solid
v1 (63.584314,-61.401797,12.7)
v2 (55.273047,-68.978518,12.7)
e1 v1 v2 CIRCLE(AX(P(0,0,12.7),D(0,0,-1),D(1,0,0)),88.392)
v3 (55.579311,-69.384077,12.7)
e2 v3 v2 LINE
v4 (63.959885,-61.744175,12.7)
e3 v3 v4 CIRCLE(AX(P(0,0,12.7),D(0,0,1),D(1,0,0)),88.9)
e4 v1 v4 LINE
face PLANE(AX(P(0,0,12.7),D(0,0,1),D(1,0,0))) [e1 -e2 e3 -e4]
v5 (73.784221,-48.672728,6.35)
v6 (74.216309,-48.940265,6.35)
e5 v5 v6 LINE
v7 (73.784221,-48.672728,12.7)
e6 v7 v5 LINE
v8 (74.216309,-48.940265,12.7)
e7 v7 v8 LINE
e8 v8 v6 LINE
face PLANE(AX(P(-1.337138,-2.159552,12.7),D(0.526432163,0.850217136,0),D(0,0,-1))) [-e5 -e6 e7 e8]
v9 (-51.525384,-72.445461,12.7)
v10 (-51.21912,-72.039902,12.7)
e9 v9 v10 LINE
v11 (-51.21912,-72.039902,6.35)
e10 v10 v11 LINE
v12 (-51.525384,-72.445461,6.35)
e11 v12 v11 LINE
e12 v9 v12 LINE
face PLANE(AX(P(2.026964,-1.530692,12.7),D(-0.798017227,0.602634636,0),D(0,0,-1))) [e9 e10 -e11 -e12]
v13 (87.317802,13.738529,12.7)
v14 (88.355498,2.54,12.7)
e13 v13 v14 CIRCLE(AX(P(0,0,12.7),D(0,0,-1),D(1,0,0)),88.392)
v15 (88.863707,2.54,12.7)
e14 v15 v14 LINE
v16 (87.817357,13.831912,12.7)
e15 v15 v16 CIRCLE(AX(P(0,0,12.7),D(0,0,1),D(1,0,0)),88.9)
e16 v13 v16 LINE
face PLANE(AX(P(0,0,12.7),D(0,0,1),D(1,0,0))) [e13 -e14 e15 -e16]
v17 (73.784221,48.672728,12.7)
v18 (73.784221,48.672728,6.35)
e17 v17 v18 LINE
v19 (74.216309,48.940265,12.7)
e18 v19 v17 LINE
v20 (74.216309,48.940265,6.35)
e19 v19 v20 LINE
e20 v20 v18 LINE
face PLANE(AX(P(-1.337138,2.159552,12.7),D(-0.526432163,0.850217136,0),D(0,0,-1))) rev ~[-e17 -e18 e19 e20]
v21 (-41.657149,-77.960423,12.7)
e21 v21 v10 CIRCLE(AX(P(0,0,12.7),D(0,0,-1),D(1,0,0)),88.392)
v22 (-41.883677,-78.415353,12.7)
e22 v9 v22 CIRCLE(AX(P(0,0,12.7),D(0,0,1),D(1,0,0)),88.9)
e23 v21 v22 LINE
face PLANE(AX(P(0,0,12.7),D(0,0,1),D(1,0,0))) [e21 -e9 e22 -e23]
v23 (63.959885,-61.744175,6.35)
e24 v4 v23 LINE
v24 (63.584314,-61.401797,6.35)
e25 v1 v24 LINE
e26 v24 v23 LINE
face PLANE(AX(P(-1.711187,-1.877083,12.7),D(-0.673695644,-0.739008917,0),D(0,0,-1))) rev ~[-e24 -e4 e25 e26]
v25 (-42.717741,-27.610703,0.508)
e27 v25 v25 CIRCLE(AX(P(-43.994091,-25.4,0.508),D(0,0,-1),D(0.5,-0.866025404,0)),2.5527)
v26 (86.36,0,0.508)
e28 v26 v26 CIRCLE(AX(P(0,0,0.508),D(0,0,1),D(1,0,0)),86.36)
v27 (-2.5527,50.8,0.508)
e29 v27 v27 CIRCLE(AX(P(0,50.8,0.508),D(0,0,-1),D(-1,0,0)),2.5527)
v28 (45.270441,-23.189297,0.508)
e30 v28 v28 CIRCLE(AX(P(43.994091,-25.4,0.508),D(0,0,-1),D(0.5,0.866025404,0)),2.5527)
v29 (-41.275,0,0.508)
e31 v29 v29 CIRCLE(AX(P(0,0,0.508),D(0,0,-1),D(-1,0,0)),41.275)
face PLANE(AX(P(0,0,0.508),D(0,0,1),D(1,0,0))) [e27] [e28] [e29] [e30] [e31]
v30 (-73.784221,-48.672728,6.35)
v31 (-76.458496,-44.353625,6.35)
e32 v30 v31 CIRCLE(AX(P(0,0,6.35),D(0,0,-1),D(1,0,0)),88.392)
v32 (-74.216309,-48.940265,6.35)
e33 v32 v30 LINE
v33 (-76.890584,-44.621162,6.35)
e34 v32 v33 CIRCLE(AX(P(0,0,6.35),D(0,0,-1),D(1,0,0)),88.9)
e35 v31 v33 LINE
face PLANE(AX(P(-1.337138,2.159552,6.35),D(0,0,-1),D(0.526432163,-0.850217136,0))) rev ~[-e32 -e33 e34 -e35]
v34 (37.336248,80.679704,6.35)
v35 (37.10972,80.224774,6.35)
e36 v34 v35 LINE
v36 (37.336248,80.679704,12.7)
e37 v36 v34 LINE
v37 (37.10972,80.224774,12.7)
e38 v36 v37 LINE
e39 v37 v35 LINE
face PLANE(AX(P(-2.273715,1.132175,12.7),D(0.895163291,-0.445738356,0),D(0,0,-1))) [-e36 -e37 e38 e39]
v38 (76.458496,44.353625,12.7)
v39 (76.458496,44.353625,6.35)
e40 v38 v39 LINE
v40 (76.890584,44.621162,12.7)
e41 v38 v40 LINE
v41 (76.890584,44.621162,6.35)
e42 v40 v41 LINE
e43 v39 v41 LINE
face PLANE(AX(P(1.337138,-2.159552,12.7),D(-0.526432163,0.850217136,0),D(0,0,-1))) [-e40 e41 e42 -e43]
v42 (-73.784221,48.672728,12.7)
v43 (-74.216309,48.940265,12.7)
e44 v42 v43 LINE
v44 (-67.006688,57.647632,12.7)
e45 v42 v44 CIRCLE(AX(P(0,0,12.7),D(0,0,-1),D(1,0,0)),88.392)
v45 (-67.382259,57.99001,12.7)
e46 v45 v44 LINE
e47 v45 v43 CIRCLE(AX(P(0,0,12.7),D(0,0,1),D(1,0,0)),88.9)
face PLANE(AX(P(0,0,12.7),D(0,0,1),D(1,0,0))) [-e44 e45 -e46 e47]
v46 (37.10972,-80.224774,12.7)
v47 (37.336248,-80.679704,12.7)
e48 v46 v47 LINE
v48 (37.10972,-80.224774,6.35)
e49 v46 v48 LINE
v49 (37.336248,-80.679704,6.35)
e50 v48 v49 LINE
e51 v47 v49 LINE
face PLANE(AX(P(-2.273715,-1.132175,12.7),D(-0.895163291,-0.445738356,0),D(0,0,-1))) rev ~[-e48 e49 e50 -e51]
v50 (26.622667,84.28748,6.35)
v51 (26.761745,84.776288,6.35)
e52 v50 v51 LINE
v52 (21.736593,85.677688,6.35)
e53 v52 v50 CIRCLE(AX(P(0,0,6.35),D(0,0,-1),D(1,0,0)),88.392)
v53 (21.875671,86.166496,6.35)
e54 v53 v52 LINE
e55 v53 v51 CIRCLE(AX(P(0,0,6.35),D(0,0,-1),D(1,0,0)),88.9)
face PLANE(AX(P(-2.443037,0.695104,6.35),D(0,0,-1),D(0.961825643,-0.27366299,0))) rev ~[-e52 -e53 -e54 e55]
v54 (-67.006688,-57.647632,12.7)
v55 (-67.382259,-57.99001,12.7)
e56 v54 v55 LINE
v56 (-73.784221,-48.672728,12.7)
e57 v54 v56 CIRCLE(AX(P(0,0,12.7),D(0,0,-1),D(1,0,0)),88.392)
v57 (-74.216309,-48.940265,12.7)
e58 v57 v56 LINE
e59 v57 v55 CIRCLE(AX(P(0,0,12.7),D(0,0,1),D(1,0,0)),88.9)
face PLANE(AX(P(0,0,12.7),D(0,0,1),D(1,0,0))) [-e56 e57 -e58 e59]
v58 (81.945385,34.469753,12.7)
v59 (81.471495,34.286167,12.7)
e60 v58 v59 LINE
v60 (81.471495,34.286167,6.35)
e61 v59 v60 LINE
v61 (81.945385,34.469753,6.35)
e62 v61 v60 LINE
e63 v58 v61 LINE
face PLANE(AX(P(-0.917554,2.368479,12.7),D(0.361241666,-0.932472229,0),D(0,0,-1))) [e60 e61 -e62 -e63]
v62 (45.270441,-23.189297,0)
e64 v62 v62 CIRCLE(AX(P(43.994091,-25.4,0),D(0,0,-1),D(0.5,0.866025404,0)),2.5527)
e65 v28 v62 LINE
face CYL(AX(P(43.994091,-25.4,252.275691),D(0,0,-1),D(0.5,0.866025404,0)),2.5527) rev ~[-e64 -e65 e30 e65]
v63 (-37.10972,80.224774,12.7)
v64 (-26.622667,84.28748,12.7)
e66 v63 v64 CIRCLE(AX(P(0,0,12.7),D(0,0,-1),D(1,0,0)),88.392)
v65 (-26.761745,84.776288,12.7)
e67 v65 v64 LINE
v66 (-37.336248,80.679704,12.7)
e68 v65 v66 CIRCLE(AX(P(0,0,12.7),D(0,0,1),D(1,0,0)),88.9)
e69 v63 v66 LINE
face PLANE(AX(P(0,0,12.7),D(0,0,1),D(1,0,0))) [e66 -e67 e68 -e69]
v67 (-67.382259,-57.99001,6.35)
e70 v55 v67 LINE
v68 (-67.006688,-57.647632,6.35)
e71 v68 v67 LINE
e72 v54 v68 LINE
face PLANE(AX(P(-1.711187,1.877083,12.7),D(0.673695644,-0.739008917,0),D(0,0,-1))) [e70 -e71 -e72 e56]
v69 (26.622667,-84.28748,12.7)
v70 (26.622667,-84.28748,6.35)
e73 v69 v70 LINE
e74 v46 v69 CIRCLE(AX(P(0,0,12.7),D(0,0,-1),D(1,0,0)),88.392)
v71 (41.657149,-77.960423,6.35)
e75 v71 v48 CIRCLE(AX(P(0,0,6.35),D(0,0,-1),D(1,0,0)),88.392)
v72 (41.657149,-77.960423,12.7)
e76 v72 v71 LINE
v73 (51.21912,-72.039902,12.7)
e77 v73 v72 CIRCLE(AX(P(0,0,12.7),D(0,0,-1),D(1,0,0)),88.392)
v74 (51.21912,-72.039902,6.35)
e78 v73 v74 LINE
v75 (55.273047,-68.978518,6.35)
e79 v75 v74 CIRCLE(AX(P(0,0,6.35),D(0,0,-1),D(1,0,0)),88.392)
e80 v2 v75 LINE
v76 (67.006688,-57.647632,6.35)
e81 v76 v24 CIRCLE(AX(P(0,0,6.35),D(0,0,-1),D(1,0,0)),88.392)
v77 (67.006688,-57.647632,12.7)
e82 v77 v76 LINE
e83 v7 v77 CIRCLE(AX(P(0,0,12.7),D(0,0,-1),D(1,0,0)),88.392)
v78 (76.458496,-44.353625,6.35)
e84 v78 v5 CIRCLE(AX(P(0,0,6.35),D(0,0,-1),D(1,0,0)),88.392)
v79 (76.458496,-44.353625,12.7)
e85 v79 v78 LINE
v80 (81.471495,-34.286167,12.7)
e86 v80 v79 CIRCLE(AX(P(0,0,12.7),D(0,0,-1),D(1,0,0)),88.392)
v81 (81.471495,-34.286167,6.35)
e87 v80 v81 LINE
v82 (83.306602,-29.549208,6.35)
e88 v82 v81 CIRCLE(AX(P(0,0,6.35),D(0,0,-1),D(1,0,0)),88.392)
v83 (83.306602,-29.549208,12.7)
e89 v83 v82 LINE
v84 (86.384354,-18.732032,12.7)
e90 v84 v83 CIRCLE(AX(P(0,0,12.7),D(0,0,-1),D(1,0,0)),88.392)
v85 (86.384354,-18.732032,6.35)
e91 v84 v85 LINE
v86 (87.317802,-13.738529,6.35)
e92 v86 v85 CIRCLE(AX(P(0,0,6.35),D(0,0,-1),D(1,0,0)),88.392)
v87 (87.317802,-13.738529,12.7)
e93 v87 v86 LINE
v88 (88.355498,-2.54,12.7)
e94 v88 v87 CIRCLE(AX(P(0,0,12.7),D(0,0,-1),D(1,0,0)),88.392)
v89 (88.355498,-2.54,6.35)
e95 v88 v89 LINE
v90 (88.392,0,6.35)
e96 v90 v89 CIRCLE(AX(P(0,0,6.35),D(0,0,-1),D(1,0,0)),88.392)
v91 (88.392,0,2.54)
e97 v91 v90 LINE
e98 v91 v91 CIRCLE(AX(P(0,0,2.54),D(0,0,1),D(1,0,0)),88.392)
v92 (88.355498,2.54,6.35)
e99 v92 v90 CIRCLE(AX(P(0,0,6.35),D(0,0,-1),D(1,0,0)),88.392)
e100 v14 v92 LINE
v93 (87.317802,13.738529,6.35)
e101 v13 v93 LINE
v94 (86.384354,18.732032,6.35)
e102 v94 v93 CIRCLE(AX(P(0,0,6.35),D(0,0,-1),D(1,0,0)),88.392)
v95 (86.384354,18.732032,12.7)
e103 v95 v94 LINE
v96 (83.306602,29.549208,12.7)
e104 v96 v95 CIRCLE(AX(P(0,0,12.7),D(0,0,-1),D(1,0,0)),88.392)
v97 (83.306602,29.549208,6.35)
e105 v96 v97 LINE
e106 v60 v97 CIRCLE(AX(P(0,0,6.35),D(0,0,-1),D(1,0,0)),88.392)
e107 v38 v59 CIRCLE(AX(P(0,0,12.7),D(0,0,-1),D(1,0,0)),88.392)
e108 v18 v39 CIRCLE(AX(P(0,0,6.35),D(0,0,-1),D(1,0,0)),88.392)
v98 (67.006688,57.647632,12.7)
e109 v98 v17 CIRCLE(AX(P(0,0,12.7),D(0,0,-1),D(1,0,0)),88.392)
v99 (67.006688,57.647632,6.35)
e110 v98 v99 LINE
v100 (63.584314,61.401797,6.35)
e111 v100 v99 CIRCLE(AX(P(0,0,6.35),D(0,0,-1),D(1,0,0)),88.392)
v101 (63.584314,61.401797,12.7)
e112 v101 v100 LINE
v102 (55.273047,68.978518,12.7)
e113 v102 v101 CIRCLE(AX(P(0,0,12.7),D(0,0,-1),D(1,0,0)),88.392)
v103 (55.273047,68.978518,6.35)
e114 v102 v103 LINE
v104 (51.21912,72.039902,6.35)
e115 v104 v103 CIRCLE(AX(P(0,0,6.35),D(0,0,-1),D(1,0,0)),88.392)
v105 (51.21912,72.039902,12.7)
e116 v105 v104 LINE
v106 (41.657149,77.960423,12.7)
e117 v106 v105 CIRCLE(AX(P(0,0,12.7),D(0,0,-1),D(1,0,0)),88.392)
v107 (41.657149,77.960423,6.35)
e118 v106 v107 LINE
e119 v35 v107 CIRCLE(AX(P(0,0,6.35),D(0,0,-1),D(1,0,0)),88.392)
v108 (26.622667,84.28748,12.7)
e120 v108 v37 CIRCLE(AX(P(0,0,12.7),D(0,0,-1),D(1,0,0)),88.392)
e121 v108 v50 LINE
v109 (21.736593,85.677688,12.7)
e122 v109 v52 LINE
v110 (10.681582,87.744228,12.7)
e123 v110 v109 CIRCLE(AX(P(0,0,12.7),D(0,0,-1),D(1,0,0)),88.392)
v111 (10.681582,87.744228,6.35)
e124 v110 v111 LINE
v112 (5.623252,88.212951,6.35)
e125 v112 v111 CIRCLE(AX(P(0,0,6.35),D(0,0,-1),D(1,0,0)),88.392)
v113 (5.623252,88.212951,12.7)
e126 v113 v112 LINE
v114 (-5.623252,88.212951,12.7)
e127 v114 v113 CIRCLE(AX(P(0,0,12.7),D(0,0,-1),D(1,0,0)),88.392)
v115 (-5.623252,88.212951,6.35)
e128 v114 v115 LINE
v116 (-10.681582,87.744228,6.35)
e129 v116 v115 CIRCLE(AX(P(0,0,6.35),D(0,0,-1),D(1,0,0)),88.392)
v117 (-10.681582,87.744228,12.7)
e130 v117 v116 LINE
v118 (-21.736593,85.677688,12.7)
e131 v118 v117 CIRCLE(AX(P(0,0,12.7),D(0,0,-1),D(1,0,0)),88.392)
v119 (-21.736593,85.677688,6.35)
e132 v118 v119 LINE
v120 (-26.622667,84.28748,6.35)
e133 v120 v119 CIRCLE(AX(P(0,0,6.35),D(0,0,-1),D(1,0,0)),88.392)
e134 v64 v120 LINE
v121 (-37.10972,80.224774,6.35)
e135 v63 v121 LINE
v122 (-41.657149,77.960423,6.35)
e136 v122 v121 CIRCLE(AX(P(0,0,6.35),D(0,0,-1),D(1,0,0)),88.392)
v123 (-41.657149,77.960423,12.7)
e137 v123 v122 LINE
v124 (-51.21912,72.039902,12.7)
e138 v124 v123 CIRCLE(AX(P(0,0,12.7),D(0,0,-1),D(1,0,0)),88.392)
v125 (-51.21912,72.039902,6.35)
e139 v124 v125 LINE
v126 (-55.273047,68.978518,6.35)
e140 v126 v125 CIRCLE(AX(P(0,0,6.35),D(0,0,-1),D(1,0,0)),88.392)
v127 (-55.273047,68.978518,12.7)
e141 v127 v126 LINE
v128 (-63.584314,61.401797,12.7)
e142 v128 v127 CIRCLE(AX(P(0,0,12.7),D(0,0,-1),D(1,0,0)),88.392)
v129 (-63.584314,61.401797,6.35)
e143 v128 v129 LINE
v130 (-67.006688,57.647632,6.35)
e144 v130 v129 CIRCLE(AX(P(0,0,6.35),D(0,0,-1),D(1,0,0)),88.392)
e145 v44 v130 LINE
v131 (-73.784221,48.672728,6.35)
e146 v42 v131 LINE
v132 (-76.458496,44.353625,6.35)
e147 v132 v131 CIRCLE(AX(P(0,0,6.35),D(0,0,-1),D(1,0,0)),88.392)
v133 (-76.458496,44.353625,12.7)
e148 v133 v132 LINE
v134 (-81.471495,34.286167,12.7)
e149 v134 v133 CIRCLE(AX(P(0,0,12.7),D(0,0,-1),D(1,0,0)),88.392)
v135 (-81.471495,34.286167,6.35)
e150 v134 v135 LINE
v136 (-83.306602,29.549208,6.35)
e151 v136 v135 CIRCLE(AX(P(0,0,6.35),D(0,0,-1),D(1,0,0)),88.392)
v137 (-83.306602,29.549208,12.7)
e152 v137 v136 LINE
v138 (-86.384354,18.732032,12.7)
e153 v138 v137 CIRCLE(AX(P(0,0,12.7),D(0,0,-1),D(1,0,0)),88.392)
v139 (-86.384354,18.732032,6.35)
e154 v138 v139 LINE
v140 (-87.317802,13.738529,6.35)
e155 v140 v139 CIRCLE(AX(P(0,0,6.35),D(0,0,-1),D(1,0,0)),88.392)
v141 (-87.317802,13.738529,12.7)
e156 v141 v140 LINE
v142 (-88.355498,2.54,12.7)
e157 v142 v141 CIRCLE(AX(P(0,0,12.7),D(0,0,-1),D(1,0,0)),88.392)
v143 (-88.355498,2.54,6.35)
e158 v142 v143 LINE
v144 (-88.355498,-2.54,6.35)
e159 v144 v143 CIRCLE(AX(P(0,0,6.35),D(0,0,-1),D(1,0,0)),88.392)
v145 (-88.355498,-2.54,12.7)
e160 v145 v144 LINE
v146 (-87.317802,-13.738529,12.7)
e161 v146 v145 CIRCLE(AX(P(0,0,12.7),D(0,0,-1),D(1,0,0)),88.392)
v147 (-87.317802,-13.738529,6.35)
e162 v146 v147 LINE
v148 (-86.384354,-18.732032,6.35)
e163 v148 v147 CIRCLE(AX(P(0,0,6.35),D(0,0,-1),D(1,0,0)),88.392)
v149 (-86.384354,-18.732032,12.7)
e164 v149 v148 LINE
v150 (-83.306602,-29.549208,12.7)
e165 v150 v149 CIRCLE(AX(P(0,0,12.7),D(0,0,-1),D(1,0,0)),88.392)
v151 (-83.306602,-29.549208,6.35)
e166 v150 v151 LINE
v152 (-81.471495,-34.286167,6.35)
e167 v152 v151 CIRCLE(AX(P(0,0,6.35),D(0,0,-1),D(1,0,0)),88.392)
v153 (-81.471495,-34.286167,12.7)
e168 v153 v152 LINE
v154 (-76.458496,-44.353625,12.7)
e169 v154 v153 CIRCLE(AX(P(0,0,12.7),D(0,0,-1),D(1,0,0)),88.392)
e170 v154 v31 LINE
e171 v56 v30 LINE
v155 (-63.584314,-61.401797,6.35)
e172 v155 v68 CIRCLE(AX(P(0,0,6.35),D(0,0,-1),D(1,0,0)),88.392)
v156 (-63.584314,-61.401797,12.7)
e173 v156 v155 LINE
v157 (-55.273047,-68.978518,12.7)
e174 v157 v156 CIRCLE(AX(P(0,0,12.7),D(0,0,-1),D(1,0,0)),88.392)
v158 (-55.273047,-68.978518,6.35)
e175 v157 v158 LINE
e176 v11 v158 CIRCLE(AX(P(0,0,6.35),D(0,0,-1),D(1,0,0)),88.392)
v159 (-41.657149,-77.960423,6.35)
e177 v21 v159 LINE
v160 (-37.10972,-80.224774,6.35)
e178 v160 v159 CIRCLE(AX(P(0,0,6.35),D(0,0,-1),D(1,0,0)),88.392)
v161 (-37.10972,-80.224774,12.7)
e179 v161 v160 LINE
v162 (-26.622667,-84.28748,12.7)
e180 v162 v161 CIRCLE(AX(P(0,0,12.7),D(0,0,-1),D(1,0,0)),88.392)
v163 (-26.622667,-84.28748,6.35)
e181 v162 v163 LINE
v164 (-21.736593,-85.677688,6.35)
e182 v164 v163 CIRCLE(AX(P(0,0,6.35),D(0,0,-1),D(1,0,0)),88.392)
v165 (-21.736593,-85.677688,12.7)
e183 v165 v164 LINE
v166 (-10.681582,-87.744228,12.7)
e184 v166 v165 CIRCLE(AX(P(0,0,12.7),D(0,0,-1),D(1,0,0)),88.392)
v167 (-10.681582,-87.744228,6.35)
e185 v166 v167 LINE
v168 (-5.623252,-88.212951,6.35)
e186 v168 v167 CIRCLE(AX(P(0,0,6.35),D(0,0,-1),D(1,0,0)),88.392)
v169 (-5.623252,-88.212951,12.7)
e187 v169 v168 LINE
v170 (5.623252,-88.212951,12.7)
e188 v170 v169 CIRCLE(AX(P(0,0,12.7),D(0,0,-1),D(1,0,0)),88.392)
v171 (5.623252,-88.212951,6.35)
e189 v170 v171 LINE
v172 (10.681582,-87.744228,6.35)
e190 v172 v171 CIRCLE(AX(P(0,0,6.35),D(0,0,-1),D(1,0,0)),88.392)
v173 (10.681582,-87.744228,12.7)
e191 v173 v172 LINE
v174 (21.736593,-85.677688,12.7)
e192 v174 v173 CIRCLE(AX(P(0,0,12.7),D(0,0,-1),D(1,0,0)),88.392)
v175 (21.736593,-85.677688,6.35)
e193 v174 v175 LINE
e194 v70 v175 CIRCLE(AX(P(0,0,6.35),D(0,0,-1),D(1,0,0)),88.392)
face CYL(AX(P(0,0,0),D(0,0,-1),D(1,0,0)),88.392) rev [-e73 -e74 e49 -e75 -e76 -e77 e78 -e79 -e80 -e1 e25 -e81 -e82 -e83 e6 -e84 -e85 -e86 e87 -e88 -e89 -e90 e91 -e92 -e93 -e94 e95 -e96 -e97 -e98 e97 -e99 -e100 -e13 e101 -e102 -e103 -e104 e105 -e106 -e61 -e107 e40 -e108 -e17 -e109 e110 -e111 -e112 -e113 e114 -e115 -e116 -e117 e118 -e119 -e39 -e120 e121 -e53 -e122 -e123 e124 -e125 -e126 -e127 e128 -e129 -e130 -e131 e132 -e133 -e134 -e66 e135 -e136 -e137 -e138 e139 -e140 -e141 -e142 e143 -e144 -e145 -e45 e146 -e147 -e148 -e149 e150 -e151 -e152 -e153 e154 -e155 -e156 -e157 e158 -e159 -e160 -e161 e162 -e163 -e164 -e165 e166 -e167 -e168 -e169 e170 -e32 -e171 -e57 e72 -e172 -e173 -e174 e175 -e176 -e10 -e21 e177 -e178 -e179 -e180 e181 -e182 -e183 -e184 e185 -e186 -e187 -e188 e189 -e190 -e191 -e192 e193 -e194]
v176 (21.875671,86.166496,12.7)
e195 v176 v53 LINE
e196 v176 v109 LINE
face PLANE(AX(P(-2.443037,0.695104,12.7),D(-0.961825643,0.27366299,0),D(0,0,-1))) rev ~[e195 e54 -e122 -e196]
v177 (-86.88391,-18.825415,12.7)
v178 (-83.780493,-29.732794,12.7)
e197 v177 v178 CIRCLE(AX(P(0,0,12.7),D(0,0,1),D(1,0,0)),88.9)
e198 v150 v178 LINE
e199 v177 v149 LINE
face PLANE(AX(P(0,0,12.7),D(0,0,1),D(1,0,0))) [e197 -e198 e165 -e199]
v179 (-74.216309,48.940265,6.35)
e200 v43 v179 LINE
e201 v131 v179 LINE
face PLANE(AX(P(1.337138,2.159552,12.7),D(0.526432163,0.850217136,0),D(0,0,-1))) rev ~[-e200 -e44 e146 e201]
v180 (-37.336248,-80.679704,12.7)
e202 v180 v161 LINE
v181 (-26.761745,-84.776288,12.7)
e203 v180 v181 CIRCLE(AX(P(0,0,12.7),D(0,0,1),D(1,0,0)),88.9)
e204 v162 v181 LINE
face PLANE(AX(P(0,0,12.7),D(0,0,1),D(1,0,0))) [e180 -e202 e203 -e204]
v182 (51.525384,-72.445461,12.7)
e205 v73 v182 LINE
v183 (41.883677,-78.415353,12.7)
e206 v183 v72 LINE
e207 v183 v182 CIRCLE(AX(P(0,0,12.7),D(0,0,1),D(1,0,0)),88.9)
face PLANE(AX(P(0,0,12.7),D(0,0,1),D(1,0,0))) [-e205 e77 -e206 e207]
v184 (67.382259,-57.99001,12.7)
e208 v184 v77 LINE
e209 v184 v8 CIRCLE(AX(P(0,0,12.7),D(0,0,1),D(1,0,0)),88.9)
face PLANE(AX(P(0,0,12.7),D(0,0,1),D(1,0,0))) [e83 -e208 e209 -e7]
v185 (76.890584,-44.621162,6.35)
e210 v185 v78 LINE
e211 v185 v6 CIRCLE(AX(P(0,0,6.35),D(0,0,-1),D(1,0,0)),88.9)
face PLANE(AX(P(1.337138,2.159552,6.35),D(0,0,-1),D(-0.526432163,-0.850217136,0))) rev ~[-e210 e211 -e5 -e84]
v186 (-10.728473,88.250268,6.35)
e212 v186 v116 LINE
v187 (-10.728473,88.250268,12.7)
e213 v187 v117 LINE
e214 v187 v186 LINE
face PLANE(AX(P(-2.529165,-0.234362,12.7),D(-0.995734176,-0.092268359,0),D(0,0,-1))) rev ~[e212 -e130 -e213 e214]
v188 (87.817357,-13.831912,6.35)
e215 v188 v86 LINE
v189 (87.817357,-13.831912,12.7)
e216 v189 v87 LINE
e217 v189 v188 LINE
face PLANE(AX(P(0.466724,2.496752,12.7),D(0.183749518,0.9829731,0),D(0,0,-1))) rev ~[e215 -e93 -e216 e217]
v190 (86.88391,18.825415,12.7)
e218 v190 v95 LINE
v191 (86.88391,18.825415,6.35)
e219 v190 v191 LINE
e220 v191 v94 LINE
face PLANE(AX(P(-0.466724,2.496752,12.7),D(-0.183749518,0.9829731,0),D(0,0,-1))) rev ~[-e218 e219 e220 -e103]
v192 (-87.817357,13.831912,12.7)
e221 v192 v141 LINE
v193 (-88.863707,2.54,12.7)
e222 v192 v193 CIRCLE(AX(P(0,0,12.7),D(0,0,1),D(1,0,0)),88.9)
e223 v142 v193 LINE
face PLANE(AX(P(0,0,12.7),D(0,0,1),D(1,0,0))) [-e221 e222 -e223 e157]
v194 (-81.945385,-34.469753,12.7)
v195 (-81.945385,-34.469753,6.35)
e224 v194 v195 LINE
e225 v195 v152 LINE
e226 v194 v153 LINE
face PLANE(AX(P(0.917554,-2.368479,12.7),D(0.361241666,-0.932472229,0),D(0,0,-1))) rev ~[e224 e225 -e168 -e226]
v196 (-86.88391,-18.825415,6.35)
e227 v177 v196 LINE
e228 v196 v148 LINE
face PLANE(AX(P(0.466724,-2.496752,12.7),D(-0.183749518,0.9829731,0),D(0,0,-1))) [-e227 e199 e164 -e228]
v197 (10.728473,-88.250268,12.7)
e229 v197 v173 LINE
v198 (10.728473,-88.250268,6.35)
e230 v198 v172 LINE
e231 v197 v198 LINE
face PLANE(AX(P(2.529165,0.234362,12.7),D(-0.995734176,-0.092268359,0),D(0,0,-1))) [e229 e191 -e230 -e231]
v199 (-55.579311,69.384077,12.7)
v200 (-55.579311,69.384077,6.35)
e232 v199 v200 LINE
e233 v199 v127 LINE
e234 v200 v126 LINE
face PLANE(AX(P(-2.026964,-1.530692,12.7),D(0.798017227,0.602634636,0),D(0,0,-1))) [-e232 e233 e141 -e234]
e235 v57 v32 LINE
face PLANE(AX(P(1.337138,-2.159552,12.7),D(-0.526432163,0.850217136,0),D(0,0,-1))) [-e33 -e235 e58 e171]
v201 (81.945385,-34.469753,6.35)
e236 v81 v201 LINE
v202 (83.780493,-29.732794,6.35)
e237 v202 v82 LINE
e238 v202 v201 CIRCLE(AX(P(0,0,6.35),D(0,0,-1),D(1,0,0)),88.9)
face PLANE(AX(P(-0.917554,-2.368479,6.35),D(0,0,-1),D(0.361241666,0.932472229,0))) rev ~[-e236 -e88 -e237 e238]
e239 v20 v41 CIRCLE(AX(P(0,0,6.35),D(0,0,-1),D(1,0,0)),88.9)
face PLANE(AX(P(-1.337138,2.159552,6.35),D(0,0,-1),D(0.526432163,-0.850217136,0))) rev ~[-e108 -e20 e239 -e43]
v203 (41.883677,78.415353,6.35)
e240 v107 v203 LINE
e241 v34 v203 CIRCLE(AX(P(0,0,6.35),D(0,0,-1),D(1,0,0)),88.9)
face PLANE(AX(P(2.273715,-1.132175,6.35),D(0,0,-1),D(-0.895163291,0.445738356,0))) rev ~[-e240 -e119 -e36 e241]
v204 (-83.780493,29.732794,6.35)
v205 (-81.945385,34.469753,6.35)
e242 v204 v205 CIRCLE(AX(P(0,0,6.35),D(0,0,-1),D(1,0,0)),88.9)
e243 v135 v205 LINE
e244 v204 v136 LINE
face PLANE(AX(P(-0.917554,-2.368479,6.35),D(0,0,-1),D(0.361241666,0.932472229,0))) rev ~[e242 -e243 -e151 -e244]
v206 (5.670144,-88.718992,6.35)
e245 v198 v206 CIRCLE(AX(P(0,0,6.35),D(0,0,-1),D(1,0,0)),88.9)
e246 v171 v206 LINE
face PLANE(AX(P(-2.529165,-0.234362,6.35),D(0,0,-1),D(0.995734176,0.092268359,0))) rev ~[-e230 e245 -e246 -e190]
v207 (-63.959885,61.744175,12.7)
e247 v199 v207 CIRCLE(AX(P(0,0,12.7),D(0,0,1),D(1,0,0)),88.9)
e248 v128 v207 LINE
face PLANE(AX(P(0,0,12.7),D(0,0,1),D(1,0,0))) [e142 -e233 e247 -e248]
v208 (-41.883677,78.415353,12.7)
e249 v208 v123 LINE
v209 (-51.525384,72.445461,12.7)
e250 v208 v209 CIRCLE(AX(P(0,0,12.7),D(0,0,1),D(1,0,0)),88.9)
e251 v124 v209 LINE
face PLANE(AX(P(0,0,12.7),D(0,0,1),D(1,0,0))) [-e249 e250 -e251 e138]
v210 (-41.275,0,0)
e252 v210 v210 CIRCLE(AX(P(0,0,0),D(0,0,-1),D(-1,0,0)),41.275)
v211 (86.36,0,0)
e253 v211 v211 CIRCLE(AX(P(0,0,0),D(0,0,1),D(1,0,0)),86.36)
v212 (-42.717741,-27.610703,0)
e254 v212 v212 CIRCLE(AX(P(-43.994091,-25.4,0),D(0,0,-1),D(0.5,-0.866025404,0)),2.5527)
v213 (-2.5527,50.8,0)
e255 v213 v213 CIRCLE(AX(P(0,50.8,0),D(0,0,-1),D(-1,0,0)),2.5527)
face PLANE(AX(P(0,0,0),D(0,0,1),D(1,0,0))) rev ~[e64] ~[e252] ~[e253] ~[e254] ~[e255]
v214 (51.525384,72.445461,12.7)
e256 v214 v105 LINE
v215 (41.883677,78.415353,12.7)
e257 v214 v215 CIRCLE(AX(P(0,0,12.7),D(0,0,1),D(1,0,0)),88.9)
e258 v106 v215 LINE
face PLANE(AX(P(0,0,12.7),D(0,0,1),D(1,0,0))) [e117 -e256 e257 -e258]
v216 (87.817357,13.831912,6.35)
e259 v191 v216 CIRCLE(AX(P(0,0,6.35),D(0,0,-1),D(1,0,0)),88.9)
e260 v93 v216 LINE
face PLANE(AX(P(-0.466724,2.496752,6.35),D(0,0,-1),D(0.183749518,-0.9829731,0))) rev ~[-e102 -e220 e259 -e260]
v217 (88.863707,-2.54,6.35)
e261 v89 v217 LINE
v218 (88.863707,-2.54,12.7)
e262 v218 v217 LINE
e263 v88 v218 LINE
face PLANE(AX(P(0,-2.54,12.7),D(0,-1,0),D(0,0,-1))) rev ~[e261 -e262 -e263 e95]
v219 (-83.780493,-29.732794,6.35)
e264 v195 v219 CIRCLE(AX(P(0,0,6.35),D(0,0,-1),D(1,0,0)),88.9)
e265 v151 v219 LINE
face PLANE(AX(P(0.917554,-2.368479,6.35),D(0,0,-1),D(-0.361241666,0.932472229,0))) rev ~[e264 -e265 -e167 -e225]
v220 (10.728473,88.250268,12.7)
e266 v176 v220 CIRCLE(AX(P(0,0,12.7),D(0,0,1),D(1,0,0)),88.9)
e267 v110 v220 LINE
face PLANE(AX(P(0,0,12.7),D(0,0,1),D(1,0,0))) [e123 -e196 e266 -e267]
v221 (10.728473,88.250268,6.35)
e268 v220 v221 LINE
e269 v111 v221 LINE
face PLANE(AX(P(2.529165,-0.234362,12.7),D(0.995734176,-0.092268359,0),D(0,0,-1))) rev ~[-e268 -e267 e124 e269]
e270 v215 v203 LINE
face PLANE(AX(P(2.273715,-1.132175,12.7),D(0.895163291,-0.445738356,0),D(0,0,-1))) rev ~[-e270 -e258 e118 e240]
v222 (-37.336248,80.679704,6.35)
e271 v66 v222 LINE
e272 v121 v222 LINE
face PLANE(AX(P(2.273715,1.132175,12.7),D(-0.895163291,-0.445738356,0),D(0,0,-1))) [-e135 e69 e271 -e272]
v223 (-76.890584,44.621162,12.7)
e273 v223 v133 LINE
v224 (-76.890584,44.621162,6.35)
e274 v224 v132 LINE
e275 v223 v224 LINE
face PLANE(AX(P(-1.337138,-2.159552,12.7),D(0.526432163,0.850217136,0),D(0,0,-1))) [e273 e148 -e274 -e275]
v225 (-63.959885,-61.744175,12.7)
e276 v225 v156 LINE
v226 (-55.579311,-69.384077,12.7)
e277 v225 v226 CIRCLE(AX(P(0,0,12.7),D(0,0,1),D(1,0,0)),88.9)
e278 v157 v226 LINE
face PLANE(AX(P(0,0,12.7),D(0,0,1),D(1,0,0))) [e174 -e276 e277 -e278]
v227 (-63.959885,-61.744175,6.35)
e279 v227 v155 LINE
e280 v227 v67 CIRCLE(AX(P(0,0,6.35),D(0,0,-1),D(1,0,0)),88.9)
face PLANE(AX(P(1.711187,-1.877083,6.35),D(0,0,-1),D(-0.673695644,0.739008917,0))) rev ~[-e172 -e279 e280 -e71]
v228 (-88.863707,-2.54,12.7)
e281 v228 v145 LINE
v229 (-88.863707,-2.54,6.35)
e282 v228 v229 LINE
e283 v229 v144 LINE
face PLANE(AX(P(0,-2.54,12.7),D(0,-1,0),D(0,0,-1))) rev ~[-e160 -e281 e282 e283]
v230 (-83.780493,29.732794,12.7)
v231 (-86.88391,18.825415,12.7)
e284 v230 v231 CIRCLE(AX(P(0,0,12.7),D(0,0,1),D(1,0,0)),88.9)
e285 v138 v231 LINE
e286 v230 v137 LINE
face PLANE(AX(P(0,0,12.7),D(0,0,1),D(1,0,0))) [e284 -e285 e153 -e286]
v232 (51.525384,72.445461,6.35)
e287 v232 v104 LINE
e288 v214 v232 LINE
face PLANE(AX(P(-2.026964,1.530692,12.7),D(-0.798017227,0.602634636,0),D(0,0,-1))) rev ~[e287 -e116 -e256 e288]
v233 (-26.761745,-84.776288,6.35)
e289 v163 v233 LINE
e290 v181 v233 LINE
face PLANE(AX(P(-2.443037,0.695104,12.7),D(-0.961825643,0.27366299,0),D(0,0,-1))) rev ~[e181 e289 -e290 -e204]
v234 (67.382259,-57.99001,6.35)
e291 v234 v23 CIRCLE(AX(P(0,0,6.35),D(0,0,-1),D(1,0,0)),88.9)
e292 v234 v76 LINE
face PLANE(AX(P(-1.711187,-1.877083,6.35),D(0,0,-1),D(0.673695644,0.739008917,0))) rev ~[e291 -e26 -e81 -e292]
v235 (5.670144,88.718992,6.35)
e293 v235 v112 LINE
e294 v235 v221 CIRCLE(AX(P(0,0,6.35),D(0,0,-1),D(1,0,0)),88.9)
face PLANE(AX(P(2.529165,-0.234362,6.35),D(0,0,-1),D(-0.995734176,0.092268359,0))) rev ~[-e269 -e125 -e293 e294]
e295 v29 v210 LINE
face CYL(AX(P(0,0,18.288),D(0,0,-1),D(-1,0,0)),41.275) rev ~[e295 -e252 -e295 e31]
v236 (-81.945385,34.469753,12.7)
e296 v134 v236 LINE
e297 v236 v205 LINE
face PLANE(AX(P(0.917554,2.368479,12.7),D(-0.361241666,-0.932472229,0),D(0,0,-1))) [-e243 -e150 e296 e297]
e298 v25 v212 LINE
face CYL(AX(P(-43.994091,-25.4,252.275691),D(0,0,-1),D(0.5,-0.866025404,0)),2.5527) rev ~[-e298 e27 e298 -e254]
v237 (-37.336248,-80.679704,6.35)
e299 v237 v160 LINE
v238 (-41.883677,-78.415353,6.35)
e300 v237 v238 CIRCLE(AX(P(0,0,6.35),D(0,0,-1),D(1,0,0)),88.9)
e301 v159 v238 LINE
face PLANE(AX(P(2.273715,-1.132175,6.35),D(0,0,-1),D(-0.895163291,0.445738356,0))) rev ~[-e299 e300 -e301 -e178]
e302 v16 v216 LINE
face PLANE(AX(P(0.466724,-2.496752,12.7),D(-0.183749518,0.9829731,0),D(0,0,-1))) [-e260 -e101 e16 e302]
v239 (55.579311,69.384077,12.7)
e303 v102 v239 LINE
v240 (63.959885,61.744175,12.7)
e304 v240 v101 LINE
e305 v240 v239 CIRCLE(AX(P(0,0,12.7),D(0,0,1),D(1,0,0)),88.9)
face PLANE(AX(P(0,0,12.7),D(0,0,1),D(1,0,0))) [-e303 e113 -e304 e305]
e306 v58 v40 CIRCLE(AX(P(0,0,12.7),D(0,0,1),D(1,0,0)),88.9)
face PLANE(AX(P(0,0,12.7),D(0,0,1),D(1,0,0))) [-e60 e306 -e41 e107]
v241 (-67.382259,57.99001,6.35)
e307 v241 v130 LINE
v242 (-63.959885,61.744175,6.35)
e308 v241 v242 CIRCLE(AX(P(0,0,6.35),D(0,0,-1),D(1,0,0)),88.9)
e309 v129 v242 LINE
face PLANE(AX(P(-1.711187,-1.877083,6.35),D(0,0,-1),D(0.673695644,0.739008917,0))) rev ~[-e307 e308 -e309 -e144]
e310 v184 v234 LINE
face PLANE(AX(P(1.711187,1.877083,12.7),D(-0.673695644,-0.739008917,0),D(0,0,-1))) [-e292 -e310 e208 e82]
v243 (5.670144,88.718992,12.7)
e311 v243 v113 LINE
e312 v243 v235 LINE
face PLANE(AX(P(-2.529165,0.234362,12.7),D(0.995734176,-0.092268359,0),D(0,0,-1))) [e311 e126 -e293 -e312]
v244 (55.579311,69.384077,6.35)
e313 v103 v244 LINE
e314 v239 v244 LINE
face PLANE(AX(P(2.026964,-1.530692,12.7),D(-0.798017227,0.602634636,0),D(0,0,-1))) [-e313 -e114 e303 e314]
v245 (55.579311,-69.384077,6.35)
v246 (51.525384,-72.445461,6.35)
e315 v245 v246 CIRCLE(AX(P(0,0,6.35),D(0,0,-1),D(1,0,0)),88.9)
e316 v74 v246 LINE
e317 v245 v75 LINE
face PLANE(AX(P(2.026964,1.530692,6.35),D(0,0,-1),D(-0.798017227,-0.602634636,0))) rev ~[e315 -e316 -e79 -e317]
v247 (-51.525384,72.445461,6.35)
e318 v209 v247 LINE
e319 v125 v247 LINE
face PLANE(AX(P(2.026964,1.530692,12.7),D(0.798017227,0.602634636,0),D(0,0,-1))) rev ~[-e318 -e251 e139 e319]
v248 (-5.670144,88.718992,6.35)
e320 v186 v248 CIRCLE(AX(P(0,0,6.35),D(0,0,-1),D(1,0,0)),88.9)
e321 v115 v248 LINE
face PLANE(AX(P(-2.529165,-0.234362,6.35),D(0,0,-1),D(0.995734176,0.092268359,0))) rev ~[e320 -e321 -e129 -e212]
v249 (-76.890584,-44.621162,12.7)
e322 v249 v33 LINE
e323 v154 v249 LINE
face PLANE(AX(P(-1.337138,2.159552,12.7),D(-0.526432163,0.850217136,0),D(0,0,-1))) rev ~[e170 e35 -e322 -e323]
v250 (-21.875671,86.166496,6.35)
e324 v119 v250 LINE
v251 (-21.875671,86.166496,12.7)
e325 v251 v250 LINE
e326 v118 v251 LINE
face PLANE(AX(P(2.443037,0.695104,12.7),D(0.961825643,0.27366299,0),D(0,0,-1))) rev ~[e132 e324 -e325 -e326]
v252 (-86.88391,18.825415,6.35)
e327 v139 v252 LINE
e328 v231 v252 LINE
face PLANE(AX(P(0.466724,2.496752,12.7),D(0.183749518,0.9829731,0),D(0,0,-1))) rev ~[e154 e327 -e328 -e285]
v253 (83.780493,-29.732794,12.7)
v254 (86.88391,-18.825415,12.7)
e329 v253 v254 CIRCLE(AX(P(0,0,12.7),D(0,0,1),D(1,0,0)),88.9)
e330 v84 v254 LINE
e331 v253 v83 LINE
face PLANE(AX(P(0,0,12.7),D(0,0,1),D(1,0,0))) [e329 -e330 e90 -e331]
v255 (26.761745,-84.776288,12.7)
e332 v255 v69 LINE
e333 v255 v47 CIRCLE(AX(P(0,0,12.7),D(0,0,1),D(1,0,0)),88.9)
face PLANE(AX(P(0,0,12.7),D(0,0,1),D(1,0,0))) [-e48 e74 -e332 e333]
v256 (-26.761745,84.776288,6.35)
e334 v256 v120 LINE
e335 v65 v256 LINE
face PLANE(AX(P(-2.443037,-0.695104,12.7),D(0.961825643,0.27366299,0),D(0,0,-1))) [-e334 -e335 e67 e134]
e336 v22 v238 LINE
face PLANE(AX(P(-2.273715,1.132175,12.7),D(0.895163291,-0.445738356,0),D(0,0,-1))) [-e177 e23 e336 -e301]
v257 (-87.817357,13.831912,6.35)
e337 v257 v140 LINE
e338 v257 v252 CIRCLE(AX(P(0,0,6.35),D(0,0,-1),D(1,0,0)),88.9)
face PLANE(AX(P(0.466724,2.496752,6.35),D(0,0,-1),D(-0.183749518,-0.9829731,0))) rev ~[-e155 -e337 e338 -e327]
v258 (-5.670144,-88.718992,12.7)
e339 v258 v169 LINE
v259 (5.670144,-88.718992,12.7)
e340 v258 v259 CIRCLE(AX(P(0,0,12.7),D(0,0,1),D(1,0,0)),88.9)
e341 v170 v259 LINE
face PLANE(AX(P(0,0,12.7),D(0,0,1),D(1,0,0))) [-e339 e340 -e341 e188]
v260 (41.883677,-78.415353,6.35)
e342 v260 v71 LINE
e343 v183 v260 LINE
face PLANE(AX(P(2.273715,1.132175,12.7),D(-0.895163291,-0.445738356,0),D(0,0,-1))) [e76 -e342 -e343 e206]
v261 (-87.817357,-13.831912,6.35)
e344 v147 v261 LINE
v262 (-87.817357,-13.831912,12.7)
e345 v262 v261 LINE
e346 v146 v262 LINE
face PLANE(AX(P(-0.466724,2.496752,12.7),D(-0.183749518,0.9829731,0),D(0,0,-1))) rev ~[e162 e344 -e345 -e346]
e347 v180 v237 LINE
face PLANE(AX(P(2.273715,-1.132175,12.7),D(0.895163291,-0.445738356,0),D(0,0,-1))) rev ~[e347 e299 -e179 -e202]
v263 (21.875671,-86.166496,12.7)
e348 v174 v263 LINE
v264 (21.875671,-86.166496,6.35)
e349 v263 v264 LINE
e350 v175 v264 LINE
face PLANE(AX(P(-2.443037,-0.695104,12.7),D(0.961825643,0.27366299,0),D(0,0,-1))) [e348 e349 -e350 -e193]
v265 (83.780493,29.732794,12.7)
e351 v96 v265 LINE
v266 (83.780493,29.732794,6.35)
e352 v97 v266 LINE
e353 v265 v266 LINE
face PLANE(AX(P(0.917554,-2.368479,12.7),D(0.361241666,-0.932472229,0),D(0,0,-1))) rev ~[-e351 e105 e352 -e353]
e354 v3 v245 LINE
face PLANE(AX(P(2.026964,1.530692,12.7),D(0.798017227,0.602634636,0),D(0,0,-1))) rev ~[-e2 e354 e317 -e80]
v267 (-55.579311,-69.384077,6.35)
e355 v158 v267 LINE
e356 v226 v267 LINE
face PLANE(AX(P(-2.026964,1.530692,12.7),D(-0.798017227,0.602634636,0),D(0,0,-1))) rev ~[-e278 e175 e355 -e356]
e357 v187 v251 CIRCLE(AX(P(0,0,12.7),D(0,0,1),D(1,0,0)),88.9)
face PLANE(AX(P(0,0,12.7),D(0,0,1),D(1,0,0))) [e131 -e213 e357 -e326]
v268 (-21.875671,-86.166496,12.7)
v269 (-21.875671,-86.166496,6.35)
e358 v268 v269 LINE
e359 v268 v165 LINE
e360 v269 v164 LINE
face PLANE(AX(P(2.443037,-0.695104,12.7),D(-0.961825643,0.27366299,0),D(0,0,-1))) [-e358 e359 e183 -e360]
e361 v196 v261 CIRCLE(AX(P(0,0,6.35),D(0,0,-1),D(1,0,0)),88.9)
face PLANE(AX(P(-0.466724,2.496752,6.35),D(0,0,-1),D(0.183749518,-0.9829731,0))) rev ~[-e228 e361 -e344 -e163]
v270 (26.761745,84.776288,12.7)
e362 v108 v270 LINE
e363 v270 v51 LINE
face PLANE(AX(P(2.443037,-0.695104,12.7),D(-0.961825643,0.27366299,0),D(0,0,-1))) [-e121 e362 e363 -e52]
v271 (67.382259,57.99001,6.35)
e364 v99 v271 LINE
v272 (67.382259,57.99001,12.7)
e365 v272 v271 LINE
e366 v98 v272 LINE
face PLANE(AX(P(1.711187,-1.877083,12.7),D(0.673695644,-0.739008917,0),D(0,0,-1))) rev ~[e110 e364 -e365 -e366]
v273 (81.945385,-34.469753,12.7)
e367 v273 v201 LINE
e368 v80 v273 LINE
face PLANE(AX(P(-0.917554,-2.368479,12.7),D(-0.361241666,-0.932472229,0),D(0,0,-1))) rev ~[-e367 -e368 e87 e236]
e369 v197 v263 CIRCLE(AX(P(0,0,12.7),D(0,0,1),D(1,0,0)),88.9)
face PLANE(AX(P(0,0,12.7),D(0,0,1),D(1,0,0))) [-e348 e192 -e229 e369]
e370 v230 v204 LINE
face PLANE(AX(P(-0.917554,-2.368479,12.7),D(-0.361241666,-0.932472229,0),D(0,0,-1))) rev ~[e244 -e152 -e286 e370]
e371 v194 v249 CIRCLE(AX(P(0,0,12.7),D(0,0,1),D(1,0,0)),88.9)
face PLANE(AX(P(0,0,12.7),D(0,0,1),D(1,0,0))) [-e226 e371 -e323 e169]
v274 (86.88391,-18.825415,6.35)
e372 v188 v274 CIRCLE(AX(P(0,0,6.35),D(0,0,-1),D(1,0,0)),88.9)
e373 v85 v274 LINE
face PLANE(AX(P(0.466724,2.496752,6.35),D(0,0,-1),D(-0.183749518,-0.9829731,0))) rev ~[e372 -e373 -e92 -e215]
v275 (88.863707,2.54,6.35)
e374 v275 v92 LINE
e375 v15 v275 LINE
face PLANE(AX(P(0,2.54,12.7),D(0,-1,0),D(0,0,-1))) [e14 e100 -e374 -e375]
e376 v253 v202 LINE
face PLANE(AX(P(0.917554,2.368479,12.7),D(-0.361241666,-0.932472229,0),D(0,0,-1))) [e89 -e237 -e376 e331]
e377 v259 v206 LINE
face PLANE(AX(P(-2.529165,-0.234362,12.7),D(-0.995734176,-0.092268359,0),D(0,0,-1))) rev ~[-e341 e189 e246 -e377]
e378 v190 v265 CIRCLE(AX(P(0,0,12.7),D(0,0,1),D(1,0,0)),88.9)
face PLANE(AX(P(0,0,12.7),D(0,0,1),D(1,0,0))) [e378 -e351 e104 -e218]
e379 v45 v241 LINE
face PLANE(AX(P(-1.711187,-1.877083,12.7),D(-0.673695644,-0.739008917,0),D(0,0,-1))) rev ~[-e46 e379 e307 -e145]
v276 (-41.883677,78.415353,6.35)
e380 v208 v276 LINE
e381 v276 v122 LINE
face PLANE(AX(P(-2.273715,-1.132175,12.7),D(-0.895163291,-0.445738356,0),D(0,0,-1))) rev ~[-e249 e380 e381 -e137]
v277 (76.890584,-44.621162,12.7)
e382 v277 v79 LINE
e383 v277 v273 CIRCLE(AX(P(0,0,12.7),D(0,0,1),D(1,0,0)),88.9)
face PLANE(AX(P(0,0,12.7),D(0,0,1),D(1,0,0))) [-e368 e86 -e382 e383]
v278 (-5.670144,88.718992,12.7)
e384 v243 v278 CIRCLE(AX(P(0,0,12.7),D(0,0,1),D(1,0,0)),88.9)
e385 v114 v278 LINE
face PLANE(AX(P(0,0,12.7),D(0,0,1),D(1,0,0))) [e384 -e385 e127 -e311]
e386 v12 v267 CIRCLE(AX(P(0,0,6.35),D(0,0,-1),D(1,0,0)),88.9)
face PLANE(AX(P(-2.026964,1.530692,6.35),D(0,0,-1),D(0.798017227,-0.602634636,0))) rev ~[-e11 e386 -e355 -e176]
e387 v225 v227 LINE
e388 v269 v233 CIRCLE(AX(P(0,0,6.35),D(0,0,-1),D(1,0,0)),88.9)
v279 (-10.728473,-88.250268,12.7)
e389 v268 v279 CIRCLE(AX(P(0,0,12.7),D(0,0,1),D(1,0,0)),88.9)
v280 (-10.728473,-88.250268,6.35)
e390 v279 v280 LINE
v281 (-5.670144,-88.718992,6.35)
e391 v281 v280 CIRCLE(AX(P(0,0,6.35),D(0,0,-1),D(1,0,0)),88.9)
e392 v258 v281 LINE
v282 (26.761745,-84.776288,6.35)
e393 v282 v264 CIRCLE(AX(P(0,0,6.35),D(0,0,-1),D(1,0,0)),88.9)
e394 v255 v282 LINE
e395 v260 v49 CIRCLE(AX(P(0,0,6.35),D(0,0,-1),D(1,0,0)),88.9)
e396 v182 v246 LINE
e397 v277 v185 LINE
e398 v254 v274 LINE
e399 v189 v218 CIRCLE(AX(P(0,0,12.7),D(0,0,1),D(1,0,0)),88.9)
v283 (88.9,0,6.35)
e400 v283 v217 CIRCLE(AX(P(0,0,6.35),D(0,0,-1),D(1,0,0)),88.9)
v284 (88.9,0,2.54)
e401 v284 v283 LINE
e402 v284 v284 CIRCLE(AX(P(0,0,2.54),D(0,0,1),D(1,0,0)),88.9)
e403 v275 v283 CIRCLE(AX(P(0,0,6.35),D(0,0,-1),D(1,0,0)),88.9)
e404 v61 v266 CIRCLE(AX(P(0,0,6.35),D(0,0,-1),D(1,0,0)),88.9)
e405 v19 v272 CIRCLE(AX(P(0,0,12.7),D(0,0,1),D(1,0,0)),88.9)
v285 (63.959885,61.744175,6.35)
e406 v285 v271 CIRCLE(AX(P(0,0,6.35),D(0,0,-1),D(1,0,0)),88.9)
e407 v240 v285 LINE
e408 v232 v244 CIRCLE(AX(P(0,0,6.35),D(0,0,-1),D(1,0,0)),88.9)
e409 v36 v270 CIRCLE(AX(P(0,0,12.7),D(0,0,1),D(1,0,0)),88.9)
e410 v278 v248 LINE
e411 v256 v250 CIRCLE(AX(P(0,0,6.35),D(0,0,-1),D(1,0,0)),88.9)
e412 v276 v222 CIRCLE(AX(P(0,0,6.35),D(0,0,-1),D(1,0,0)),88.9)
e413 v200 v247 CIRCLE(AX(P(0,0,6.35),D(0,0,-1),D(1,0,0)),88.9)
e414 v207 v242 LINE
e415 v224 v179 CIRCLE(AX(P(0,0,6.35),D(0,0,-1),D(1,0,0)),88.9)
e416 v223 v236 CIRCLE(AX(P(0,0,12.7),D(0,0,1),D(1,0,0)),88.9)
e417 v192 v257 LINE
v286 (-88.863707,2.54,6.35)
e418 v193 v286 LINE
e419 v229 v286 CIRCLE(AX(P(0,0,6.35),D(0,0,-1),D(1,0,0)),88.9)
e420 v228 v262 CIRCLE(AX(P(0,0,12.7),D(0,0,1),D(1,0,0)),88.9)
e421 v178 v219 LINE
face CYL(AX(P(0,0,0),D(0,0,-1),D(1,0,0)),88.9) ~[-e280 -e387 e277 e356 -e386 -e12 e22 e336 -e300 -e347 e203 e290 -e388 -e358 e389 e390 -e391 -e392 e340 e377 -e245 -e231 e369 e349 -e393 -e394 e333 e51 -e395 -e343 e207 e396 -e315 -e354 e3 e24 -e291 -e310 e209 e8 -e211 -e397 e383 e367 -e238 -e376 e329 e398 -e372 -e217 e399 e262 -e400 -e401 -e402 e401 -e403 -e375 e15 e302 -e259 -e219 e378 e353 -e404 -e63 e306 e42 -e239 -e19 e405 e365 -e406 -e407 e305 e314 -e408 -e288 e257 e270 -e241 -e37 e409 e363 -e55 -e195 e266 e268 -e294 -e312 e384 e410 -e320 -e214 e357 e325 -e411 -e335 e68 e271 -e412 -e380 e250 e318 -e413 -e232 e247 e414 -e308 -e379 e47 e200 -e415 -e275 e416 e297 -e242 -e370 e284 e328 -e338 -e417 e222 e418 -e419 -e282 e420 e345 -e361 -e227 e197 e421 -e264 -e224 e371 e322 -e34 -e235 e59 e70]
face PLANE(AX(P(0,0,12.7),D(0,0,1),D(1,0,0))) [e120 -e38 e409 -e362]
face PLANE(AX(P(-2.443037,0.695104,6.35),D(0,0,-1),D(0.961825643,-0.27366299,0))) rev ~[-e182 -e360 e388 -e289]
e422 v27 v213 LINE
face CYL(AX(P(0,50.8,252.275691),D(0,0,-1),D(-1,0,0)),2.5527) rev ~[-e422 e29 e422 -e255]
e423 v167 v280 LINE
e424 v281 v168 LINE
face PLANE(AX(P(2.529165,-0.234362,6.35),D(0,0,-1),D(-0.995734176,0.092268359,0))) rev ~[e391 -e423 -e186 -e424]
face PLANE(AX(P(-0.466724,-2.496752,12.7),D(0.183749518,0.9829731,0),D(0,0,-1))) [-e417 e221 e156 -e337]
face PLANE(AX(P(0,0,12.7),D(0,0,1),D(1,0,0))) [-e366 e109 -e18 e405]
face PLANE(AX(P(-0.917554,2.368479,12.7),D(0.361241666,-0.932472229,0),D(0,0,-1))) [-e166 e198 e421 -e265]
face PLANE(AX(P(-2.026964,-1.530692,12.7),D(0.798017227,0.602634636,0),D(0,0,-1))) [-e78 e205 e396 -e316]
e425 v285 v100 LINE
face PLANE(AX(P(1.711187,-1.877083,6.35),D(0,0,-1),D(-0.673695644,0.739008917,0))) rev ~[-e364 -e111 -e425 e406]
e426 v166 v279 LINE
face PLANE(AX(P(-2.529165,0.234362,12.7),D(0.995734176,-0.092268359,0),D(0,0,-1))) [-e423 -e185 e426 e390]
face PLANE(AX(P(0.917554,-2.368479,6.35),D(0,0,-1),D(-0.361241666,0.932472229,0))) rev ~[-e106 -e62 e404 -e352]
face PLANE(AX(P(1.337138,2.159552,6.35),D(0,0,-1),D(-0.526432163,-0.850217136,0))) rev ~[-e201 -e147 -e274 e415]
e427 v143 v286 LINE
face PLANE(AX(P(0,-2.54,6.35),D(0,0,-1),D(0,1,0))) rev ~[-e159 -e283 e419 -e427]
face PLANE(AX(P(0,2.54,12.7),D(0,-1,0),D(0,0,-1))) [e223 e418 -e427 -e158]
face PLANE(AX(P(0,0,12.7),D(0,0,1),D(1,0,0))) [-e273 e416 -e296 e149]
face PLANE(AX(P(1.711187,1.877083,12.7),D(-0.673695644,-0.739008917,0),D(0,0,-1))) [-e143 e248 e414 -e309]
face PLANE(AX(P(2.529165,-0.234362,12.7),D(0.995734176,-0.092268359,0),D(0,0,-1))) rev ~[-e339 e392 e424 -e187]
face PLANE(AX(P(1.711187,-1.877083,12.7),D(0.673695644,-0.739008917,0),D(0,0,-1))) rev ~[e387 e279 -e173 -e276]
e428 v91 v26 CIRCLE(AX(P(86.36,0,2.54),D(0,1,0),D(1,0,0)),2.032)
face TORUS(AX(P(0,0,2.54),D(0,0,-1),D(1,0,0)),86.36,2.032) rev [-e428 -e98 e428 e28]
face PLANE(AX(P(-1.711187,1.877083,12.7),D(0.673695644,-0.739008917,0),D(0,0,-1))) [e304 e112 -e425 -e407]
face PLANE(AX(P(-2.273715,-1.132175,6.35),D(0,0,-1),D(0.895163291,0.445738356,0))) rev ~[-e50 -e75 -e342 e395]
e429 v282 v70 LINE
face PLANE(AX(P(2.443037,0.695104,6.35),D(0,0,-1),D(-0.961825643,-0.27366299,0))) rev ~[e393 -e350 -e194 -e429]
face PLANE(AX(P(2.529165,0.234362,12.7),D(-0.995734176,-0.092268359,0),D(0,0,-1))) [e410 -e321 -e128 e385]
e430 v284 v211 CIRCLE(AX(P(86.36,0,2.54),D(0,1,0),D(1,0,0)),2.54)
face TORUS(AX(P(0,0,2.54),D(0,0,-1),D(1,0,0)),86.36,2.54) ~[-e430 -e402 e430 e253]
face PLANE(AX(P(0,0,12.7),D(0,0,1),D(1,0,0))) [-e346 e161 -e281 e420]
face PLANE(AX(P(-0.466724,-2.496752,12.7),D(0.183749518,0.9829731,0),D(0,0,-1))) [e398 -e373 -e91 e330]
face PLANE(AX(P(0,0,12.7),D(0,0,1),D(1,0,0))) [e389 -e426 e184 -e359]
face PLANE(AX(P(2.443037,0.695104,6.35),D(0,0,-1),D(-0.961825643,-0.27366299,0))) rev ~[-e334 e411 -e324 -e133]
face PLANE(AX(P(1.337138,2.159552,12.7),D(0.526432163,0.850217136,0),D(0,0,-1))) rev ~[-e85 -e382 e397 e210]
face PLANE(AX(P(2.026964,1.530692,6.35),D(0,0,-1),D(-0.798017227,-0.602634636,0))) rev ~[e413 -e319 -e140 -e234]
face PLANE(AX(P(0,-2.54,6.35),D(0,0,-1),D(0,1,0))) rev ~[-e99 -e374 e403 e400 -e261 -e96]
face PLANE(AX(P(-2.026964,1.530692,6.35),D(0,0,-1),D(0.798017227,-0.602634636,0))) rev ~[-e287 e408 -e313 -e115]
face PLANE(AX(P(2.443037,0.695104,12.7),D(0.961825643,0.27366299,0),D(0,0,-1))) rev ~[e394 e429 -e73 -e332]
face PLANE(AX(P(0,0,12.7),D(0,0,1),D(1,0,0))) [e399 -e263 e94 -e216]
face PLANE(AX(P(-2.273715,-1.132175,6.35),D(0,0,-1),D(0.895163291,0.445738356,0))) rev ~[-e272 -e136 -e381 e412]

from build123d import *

# Parameters (mm, degrees)
SKETCH1_R                  = 88.9
EXTRUDE1_DEPTH             = 12.7
FILLET1_R                  = 2.54
SHELL1_T                   = -0.508
F_1_1_DIAMETER_HOLE1_D     = 82.55
F_1_1_DIAMETER_HOLE1_DEPTH = 17.78
F_1_1_DIAMETER_HOLE1_TIP   = 24.80052205
SKETCH3_W                  = 6.35
SKETCH3_H                  = 5.08
EXTRUDE2_DEPTH             = 127.363404513
CIRPATTERN1_COUNT          = 17
F_10_CLEARANCE_HOLE1_D     = 5.1054
CIRPATTERN2_COUNT          = 3


with BuildPart() as part:
    # Sketch1 → Extrude1 (new body)
    with BuildSketch(Plane.XY):
        Circle(SKETCH1_R)
    extrude(amount=EXTRUDE1_DEPTH)

    # Fillet1
    fillet1_edges = [part.edges().sort_by_distance(p)[0] for p in [
        (-88.9, 0, 0),
    ]]
    fillet(fillet1_edges, radius=FILLET1_R)

    # Shell1
    shell1_openings = [part.faces().sort_by_distance(p)[0] for p in [
        (0, 0, 12.7),
    ]]
    offset(amount=SHELL1_T, openings=shell1_openings, kind=Kind.INTERSECTION)

    # 1 (1) Diameter Hole1
    with Locations(Plane.XY.offset(0.508)):
        with Locations((0, 0)):
            Hole(F_1_1_DIAMETER_HOLE1_D / 2, depth=F_1_1_DIAMETER_HOLE1_DEPTH)
            with Locations((0, 0, -(F_1_1_DIAMETER_HOLE1_DEPTH + F_1_1_DIAMETER_HOLE1_TIP / 2))):  # 118° drill point
                Cone(0, F_1_1_DIAMETER_HOLE1_D / 2, F_1_1_DIAMETER_HOLE1_TIP, mode=Mode.SUBTRACT)

    # Sketch3 → Extrude2 (cut, symmetric)
    with BuildSketch(Plane(origin=(0, 0, 0), x_dir=(0, 0, -1), z_dir=(1, 0, 0))):
        with Locations((-9.525, 0)):
            Rectangle(SKETCH3_W, SKETCH3_H)
    extrude2 = extrude(amount=EXTRUDE2_DEPTH, both=True, mode=Mode.SUBTRACT)

    # CirPattern1: Extrude2 ×17 about axis
    cirpattern1_axis = Axis((0, 0, 0), (0, 0, 1))
    for i in range(1, CIRPATTERN1_COUNT):
        add(extrude2.rotate(cirpattern1_axis, i * 360 / CIRPATTERN1_COUNT), mode=Mode.SUBTRACT)

    # #10 Clearance Hole1 (through all)
    with Locations(Plane(origin=(0, 50.8, 0.508), x_dir=(1, 0, 0), z_dir=(0, 0, 1))):
        with Locations((0, 0)):
            f_10_clearance_hole1 = Hole(F_10_CLEARANCE_HOLE1_D / 2)

    # CirPattern2: #10 Clearance Hole1 ×3 about axis
    cirpattern2_axis = Axis((0, 0, 0), (0, 0, 1))
    for i in range(1, CIRPATTERN2_COUNT):
        add(f_10_clearance_hole1.rotate(cirpattern2_axis, i * 360 / CIRPATTERN2_COUNT), mode=Mode.SUBTRACT)


solid = part.part
